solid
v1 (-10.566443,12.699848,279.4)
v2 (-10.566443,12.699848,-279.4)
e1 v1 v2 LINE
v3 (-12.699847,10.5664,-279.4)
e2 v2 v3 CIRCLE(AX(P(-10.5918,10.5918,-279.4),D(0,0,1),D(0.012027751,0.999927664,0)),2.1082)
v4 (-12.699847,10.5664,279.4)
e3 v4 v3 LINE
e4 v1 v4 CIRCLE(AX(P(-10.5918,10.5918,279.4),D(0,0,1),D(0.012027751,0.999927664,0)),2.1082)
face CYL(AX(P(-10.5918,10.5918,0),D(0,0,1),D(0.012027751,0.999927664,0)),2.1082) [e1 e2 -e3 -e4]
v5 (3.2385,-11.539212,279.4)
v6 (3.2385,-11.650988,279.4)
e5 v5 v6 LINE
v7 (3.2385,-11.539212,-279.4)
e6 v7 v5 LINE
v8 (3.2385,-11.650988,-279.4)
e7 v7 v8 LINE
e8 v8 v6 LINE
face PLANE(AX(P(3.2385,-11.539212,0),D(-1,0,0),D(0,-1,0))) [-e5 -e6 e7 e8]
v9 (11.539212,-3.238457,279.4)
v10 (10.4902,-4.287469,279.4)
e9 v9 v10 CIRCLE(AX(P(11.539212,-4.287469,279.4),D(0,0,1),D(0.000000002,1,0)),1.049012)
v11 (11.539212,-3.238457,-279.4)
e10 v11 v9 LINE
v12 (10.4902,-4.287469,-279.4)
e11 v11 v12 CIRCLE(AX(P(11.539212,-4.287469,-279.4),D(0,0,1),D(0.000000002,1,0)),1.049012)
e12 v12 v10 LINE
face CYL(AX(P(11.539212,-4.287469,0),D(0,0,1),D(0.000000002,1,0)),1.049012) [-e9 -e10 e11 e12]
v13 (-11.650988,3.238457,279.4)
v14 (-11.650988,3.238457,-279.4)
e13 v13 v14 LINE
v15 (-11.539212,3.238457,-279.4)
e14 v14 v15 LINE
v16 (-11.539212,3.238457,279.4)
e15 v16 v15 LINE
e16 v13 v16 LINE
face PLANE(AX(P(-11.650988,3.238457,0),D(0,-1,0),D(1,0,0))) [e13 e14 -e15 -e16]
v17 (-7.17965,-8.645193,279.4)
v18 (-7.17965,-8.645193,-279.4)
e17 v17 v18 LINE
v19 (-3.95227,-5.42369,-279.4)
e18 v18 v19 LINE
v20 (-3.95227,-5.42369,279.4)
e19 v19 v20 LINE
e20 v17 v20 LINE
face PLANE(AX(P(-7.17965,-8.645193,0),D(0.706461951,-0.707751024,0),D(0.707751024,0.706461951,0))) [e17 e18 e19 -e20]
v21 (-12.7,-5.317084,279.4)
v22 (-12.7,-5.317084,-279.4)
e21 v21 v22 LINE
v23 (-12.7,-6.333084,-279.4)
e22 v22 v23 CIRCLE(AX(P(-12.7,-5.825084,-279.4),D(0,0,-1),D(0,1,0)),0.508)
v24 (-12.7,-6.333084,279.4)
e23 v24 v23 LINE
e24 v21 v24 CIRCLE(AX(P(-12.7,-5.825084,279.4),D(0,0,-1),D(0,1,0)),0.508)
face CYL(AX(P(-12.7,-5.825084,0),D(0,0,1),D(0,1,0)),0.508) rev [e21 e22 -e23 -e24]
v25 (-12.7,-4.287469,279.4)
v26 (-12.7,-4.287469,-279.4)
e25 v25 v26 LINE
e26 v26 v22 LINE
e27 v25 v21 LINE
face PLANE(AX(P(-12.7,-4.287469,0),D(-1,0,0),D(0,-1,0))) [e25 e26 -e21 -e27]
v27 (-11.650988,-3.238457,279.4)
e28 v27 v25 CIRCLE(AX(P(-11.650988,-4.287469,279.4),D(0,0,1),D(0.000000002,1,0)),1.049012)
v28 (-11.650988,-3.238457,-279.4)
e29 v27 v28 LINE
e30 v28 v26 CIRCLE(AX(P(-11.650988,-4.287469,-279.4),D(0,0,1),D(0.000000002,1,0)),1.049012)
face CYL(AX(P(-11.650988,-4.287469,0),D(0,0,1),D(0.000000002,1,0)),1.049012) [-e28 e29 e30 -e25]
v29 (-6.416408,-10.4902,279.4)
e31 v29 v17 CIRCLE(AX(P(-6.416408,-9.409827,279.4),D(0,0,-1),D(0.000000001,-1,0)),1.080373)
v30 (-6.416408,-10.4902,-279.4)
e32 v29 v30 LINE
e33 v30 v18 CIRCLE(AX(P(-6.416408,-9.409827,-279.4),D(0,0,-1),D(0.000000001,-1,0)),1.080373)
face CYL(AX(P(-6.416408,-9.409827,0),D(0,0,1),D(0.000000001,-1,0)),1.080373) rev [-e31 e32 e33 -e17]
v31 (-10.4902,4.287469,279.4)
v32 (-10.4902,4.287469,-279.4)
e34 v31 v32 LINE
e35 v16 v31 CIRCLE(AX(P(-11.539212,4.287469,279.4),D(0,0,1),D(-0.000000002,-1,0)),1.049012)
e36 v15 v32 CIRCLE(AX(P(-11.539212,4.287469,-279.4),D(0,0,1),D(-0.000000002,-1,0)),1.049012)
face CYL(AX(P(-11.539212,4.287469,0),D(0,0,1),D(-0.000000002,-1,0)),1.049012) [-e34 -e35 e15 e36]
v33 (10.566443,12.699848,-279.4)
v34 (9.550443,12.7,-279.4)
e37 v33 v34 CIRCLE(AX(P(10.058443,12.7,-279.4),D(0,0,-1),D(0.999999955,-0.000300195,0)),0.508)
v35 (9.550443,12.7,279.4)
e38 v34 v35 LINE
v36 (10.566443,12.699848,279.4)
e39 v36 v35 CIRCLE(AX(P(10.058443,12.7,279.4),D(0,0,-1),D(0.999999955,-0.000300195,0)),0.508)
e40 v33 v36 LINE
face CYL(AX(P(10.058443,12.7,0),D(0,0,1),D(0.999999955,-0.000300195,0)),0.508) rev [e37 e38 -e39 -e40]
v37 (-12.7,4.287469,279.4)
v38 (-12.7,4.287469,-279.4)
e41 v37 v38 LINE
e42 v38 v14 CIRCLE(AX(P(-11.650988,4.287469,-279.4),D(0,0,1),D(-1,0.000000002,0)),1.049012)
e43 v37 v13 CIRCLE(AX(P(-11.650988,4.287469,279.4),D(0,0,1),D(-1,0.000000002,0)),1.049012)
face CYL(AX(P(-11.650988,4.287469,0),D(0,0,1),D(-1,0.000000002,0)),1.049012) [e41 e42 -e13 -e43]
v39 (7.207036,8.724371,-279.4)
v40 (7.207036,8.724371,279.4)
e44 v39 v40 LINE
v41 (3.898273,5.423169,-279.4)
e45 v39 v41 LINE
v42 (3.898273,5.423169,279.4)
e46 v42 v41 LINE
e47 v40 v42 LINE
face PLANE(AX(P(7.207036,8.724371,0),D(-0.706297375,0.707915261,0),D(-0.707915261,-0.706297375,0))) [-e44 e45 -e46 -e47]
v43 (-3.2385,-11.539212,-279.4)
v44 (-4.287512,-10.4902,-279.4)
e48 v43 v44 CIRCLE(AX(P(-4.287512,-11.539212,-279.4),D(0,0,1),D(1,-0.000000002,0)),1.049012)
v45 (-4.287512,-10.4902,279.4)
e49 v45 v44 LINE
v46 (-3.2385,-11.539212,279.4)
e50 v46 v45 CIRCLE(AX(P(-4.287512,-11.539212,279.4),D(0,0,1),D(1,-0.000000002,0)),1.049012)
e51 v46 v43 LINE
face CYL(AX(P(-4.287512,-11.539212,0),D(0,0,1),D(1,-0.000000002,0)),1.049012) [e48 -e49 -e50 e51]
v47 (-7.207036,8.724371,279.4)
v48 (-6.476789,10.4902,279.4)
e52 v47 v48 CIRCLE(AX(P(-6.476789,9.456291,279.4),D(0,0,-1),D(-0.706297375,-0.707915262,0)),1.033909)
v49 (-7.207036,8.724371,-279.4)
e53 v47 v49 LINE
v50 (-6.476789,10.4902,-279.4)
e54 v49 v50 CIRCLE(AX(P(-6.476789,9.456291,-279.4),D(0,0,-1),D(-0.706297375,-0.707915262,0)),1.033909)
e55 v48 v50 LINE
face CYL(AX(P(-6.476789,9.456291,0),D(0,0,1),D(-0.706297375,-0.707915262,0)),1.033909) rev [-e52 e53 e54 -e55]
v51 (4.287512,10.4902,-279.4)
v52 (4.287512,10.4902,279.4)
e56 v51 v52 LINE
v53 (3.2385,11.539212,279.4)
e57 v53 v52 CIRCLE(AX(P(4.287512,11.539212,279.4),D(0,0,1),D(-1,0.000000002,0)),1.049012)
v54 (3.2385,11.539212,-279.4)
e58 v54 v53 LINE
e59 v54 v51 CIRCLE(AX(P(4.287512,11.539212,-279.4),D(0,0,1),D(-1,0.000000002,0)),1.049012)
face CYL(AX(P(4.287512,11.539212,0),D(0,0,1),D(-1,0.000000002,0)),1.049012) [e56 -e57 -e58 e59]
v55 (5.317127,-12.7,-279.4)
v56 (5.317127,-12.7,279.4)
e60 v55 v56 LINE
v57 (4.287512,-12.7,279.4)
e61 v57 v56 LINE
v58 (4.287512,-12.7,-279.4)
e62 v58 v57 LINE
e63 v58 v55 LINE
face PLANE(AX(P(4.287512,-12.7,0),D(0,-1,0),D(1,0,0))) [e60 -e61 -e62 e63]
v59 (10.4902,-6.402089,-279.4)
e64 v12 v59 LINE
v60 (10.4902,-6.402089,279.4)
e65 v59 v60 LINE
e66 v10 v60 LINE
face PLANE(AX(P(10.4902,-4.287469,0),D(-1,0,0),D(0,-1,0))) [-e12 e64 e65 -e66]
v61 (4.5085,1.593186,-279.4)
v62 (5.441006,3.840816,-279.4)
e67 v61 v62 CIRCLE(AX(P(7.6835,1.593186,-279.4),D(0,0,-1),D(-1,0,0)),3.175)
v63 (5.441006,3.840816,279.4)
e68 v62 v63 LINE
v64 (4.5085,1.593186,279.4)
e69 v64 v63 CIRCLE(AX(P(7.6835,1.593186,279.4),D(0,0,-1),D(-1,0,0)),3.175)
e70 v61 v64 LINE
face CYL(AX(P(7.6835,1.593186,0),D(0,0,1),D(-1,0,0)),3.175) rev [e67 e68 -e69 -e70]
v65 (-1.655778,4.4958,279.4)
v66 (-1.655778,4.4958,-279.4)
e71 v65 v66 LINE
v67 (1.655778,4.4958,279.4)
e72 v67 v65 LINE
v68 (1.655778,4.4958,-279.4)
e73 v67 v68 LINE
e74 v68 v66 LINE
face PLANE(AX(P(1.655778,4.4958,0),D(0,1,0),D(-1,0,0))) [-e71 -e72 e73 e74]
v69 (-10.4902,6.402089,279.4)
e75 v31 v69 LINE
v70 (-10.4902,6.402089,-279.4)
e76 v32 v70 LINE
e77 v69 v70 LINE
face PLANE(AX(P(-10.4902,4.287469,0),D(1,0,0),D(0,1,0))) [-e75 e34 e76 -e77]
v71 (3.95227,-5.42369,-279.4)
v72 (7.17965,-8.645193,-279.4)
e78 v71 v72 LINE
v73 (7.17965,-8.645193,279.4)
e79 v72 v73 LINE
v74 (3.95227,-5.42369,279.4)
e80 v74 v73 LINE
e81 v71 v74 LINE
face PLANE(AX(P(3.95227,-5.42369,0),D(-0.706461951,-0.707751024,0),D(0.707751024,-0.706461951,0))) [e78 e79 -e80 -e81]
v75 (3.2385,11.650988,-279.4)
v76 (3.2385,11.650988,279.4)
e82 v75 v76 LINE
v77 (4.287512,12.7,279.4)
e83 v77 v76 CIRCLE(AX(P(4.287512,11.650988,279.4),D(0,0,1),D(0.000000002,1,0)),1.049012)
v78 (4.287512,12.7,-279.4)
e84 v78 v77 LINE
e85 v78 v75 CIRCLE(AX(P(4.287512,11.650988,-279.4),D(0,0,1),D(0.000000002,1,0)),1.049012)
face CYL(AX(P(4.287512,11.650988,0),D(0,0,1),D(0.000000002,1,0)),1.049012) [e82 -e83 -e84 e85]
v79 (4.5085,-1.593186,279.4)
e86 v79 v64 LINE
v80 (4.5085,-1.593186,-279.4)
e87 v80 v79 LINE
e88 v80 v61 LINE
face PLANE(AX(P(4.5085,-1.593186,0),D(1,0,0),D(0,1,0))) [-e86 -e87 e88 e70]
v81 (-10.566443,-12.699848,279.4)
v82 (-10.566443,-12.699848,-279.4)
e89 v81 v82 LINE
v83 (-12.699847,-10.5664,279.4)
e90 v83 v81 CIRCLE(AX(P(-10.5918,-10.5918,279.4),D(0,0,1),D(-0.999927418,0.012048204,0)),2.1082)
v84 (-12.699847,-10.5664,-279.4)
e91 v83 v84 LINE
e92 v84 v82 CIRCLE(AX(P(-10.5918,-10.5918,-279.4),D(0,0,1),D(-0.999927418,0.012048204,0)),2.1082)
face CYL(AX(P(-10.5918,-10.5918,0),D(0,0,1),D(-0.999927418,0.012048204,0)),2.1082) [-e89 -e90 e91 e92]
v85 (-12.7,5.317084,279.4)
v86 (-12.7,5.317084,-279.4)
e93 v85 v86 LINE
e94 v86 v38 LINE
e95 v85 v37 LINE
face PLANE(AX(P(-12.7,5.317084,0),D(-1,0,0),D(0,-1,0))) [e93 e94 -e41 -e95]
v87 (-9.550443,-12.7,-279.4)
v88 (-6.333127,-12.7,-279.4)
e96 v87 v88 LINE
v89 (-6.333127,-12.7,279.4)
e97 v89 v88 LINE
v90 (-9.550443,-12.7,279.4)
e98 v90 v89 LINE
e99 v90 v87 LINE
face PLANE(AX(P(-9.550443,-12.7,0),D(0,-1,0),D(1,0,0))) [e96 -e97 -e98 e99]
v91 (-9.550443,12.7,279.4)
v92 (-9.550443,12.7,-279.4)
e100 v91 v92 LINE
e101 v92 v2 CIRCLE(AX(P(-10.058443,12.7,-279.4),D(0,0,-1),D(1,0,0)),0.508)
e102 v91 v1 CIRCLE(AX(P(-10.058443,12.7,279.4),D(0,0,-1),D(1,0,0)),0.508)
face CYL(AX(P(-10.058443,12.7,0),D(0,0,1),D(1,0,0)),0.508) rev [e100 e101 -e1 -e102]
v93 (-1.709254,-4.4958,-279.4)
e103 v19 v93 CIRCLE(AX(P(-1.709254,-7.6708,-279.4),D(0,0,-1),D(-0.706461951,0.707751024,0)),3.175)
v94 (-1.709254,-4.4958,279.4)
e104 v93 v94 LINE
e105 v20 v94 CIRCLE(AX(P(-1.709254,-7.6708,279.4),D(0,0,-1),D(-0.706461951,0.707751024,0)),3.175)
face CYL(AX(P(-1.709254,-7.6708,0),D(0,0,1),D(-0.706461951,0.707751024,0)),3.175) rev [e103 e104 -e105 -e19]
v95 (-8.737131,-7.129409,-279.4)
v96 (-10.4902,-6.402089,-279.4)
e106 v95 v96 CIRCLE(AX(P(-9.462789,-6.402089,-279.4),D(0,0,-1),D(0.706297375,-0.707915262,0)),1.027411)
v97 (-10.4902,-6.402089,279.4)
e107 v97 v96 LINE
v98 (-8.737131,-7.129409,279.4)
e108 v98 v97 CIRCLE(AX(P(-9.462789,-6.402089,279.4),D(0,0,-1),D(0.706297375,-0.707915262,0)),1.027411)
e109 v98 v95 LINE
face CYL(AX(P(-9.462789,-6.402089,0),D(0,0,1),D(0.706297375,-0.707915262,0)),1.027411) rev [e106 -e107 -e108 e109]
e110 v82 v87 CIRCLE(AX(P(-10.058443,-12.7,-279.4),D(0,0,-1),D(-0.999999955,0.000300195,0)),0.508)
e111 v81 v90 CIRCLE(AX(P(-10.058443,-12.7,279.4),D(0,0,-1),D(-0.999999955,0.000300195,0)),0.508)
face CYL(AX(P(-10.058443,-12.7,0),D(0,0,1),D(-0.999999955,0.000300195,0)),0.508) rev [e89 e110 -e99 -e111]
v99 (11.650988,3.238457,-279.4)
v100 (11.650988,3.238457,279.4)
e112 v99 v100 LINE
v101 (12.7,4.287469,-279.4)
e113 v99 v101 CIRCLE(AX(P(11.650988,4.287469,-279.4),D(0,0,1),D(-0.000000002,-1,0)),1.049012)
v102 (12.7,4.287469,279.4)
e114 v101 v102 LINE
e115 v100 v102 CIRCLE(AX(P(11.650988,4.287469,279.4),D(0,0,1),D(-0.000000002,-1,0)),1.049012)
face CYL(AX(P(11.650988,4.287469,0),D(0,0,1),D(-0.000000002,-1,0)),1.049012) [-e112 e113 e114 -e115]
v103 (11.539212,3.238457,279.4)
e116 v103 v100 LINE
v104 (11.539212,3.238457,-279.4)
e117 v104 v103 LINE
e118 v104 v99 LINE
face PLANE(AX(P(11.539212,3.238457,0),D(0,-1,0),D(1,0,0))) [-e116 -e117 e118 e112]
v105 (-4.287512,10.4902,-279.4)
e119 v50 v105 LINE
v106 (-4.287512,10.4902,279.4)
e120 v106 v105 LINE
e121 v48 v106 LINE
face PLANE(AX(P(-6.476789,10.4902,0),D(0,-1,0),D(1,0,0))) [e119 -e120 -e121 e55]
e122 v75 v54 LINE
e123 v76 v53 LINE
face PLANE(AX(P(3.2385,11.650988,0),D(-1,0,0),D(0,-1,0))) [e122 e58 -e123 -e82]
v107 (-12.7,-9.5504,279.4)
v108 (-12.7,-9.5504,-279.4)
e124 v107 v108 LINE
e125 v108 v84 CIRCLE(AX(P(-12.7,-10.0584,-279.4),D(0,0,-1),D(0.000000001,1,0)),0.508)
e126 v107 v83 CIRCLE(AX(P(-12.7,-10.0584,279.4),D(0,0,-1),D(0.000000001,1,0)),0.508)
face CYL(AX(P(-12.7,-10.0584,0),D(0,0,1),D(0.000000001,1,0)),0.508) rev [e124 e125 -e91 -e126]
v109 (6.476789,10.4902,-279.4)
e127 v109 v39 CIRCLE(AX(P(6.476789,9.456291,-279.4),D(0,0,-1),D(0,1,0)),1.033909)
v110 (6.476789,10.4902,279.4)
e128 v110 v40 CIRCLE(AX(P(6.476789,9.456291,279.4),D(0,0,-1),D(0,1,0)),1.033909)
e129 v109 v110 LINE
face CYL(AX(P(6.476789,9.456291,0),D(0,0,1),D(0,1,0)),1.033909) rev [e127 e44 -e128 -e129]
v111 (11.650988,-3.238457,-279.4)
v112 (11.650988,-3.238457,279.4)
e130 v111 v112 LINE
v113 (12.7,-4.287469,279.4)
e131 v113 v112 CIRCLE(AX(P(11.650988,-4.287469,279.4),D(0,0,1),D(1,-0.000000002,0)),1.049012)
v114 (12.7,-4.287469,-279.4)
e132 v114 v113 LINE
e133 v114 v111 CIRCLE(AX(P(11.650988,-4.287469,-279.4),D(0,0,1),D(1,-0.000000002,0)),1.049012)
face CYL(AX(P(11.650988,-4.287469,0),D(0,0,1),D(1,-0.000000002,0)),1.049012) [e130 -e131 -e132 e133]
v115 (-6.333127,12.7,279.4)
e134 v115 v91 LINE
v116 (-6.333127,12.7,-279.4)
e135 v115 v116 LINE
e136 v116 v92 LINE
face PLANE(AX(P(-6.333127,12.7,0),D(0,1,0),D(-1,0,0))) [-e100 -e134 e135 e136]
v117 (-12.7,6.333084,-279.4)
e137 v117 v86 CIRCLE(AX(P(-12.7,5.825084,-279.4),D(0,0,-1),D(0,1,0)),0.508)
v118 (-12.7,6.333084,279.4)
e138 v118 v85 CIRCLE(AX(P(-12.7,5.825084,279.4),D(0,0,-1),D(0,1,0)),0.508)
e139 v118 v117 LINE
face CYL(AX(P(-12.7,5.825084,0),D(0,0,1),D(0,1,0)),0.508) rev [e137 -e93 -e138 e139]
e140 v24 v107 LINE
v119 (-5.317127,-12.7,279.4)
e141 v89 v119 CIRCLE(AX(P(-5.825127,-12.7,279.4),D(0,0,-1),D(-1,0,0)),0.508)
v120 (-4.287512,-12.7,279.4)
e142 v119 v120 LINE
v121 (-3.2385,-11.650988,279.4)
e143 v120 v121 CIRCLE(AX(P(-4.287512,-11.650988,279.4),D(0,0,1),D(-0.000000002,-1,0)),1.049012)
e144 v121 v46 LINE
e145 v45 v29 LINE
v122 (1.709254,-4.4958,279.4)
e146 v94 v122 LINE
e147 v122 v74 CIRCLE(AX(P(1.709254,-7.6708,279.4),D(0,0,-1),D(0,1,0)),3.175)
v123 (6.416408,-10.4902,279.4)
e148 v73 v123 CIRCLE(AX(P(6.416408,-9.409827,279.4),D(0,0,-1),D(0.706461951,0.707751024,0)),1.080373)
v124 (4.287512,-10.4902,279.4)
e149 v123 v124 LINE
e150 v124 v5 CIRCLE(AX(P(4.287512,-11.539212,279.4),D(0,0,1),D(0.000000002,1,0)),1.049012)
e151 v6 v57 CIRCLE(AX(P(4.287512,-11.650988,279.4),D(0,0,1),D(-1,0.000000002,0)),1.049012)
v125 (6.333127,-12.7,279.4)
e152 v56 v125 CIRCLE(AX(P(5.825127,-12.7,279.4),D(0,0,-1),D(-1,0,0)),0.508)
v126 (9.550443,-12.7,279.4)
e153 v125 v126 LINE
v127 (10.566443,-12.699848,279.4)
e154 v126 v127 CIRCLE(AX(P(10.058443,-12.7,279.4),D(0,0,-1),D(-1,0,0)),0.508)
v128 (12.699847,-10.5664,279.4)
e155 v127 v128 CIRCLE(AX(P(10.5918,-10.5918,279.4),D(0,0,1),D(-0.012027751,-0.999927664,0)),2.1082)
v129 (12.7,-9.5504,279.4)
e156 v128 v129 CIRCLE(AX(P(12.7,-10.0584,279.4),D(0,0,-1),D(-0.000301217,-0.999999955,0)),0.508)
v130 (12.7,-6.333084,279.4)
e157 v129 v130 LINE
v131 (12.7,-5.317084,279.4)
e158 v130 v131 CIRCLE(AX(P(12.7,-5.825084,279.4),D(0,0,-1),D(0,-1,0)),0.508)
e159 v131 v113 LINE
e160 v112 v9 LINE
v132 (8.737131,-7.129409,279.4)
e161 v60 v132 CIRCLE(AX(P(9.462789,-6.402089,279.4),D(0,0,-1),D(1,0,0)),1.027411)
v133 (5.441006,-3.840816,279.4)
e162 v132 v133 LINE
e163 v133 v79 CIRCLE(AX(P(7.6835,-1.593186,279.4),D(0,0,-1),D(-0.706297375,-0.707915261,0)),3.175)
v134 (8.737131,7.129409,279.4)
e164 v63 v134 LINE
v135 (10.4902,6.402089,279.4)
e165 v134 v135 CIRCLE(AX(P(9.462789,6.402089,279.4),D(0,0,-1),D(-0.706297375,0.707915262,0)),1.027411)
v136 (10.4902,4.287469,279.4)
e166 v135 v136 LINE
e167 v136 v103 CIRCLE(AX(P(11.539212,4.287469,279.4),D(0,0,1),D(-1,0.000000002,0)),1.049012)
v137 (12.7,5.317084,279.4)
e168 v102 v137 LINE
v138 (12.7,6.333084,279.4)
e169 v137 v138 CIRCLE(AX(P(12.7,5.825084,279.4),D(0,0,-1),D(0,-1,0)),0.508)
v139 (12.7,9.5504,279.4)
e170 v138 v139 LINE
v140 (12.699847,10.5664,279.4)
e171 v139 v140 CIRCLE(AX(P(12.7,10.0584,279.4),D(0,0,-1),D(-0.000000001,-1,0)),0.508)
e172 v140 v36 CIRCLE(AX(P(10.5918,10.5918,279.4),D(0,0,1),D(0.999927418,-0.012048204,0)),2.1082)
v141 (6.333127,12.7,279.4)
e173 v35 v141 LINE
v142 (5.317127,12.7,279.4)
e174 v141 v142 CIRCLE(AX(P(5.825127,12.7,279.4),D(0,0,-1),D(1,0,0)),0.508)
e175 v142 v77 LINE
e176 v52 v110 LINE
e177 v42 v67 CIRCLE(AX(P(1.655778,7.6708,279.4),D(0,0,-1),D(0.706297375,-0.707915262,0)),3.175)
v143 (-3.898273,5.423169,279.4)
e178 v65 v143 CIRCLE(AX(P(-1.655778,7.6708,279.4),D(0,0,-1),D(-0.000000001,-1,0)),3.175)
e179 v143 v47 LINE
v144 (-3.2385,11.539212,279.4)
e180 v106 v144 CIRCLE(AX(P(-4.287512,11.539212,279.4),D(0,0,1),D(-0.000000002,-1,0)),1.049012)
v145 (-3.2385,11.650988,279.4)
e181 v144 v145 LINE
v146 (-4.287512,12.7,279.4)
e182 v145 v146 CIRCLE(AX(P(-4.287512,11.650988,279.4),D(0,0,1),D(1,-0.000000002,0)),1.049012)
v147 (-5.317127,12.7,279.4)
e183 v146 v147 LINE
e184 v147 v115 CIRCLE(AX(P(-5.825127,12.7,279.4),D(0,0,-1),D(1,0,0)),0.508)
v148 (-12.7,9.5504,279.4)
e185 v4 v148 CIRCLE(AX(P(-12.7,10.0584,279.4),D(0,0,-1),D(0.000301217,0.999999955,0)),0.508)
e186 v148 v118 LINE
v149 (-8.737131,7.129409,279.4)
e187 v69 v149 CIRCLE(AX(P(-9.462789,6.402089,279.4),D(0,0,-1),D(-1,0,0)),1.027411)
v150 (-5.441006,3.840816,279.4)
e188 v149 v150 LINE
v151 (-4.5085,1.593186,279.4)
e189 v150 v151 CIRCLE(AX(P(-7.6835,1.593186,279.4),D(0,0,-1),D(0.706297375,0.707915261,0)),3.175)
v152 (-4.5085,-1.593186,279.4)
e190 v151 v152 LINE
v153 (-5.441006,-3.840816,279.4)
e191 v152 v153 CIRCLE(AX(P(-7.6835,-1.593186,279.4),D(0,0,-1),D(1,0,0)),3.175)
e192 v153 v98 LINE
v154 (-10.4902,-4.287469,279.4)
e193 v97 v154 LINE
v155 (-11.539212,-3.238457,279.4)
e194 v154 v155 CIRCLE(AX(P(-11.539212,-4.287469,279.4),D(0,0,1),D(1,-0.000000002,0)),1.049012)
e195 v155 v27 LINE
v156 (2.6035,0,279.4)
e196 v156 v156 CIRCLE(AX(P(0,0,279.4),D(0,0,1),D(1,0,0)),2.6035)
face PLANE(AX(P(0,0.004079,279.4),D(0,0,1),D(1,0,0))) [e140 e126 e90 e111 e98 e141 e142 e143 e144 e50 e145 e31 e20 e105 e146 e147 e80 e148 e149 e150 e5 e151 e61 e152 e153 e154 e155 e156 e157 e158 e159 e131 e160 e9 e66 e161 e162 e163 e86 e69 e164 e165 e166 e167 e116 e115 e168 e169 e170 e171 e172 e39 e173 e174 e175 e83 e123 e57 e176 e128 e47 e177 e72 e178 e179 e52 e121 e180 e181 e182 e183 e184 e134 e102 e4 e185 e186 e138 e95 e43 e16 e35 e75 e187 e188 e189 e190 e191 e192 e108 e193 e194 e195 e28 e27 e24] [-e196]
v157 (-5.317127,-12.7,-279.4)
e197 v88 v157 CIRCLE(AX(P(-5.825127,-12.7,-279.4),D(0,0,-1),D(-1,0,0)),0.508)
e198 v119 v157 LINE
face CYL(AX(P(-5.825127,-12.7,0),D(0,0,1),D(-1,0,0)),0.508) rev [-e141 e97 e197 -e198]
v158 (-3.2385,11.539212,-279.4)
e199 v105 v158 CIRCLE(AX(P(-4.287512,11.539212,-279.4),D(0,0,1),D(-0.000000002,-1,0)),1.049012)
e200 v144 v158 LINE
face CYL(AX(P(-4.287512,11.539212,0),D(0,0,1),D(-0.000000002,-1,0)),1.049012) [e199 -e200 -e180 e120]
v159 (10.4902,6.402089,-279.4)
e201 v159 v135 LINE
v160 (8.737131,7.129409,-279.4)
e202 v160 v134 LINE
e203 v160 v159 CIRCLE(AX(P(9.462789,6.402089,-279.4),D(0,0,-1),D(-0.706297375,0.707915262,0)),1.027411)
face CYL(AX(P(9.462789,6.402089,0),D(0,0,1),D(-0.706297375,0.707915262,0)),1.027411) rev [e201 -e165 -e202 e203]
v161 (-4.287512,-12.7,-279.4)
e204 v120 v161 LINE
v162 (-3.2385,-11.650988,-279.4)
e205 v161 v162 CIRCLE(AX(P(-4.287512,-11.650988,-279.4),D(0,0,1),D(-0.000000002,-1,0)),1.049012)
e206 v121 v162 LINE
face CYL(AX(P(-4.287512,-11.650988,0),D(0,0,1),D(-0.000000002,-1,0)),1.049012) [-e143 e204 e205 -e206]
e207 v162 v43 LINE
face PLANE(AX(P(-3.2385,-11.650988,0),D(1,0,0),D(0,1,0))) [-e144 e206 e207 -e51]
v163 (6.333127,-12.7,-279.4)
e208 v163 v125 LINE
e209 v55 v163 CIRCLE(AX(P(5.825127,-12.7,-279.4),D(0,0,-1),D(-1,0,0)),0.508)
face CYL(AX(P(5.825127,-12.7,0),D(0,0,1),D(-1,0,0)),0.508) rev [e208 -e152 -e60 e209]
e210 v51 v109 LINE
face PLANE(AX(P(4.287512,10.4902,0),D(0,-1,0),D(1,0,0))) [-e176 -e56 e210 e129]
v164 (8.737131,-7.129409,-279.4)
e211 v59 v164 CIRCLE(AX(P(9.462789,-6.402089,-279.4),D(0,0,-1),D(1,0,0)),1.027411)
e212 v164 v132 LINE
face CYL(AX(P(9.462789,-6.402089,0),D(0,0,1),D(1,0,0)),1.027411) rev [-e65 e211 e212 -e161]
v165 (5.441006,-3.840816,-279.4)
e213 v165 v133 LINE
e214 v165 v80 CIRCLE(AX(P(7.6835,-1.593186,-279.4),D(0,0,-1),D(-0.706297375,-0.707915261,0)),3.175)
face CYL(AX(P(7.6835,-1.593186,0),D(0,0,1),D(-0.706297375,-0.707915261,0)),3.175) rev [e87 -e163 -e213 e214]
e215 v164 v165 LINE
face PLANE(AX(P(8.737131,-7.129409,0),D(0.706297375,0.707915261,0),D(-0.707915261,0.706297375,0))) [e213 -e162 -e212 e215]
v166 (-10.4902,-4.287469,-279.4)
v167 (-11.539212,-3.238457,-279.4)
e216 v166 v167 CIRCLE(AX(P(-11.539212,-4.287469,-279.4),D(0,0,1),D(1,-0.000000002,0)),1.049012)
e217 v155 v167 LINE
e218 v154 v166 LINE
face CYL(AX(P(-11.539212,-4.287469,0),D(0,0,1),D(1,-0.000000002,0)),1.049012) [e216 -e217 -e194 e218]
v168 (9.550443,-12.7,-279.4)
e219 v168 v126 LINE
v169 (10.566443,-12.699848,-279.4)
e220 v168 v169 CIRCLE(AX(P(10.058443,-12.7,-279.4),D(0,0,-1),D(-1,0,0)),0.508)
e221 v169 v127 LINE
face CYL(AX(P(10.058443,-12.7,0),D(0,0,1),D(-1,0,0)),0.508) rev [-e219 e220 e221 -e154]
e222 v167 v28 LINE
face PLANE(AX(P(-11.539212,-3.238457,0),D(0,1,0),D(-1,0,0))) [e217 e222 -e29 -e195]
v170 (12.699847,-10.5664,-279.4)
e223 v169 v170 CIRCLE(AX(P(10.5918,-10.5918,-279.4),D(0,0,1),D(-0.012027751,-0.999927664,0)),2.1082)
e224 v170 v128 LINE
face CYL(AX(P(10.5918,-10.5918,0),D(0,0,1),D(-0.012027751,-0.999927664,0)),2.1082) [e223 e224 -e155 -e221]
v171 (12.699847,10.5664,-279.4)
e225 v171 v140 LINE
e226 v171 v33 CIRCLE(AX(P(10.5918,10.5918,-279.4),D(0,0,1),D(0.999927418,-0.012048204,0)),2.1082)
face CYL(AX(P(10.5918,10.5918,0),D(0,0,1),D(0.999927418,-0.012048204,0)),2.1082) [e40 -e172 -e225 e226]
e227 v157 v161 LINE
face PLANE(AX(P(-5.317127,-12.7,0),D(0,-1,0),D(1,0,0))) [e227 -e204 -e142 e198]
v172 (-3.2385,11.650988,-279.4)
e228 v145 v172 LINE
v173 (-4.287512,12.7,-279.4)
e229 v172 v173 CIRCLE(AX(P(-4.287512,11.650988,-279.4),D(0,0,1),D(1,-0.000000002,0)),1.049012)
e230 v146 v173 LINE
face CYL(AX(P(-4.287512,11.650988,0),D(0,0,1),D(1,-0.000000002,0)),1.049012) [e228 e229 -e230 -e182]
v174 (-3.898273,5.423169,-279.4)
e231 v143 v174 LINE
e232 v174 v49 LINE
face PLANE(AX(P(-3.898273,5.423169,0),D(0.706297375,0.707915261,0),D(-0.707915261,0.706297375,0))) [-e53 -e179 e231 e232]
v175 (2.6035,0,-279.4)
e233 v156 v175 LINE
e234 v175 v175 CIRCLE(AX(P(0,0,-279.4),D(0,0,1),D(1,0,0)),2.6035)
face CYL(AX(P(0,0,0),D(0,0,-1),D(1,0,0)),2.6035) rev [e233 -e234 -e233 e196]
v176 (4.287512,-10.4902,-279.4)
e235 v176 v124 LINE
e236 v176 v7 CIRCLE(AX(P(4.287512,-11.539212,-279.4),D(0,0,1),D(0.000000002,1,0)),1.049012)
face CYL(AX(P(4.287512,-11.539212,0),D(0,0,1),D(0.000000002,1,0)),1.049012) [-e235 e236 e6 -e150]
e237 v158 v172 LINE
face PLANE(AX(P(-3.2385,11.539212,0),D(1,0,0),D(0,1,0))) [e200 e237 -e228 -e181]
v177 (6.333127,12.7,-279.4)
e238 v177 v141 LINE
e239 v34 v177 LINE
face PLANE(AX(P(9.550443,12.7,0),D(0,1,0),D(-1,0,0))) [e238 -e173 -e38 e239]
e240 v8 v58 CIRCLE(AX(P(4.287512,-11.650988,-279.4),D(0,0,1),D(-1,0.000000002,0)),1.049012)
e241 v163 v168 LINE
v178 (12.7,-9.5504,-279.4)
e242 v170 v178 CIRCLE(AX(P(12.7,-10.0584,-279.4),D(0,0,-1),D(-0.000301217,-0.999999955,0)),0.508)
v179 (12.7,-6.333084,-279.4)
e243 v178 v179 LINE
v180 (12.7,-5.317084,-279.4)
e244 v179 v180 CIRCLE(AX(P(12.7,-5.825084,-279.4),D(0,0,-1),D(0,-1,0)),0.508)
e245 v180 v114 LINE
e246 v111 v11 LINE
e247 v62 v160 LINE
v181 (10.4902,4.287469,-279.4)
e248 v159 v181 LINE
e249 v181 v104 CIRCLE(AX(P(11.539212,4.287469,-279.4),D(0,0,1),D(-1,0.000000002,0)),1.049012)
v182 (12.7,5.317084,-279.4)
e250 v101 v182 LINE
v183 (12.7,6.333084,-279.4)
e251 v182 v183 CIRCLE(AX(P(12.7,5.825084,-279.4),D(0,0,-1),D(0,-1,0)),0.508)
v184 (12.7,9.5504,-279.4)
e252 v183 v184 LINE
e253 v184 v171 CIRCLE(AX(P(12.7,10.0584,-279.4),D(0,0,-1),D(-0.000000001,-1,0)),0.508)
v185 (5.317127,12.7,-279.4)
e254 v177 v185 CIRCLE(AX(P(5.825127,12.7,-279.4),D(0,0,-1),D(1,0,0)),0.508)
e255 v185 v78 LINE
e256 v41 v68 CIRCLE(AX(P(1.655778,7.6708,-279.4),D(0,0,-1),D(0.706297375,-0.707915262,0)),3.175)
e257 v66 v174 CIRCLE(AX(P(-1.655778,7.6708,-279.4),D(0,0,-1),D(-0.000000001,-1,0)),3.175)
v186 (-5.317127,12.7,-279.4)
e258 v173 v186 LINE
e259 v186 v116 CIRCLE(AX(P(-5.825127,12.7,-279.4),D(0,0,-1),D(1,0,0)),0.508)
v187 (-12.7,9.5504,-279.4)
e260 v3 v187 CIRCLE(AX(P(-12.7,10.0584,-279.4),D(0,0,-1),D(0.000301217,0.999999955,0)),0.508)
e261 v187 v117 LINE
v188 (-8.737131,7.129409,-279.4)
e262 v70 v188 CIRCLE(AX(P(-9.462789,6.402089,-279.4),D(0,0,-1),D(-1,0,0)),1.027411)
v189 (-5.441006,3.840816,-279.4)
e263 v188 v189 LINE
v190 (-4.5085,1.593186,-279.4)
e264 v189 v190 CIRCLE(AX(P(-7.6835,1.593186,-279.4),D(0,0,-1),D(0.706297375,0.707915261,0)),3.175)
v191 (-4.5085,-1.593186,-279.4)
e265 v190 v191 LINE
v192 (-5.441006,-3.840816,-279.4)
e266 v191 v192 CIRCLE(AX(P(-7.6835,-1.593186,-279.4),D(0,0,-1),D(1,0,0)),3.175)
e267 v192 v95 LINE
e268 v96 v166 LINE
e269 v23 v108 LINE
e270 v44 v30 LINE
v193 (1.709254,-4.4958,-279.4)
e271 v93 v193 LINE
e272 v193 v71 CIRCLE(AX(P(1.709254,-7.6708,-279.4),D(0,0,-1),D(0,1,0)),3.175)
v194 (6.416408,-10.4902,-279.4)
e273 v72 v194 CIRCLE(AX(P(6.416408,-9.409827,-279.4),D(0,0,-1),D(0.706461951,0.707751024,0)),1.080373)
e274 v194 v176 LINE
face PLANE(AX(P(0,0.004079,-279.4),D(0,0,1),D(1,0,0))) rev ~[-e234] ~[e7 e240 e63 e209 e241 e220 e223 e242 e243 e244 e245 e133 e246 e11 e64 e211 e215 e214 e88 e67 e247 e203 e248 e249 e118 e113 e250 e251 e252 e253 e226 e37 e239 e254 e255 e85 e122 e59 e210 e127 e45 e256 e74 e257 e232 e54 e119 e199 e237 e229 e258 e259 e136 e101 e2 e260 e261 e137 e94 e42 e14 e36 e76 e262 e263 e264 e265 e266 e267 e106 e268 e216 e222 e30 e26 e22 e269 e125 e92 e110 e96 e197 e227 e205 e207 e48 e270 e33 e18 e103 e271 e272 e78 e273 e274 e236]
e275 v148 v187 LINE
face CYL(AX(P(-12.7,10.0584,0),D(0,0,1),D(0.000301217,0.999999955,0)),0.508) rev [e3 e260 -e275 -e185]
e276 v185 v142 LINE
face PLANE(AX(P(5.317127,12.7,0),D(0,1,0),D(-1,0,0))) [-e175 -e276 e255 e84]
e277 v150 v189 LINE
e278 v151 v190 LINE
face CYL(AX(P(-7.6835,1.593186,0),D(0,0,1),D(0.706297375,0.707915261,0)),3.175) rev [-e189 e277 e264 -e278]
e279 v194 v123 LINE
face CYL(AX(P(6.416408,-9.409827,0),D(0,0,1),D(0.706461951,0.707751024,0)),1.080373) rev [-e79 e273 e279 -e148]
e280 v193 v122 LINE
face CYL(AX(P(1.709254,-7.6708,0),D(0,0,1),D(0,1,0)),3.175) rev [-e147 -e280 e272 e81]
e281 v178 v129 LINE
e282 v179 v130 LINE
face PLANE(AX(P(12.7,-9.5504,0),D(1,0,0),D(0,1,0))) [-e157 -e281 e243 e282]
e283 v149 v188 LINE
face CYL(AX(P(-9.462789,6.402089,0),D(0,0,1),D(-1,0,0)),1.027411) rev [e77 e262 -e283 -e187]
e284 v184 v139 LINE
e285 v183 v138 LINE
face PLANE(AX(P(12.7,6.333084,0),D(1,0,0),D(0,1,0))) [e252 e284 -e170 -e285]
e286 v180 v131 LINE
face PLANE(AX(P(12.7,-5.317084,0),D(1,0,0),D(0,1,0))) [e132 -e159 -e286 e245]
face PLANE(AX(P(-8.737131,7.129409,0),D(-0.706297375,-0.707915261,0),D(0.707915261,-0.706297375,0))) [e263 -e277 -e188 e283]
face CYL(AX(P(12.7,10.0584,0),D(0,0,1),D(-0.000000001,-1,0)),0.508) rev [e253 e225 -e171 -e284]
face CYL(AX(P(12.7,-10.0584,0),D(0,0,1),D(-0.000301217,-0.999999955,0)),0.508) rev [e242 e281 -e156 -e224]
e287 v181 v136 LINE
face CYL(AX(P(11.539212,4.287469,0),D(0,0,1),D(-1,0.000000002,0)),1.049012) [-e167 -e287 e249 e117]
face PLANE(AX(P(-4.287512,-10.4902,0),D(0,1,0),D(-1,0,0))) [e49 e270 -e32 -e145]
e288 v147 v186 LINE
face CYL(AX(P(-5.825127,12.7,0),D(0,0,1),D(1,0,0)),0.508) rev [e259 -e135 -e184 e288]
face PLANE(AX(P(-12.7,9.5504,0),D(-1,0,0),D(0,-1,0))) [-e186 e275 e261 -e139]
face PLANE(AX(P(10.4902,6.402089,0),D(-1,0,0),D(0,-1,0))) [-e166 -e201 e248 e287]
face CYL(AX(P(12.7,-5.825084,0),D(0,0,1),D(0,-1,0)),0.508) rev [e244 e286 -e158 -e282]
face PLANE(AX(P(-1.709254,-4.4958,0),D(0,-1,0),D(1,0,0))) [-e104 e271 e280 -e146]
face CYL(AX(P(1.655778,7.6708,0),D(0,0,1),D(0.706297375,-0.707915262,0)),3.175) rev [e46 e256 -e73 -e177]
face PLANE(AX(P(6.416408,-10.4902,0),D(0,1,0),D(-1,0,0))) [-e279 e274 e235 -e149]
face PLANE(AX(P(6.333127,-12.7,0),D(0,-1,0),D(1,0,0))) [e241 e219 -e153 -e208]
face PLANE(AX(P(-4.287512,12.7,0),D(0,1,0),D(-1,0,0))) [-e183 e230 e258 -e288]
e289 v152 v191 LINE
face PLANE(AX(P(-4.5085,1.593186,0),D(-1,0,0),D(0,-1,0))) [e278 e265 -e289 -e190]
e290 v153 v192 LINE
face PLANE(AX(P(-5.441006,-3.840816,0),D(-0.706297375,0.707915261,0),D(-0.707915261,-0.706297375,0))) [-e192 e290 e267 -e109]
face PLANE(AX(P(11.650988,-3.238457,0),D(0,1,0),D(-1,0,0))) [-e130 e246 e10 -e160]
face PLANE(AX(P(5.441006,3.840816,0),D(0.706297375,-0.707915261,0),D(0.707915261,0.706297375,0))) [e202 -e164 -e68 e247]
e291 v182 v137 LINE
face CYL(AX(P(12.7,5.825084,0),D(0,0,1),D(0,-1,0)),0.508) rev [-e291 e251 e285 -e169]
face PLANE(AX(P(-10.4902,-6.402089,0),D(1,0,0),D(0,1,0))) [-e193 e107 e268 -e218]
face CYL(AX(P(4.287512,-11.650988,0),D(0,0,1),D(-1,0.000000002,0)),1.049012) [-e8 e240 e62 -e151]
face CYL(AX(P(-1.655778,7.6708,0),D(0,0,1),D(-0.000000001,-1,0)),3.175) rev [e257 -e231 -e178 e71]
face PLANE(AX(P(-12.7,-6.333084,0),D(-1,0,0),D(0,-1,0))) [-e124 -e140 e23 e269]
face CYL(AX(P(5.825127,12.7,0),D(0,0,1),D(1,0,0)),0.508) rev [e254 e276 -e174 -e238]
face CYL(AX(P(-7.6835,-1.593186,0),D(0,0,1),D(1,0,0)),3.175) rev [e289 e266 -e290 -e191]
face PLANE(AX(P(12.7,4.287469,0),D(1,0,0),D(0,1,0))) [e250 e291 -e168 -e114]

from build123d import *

# Parameters (mm, degrees)
SKETCH1_R           = 2.6035
BOSS_EXTRUDE1_DEPTH = 279.4


with BuildPart() as part:
    # Sketch1 → Boss-Extrude1 (new body, symmetric)
    with BuildSketch(Plane.XY):
        with BuildLine():
            Line((-7.179650497, -8.645192506), (-3.952270251, -5.423690499))
            ThreePointArc((-3.952270251, -5.423690499), (-2.922936451, -4.736929036), (-1.709253557, -4.4958))
            Line((-1.709253557, -4.4958), (1.709253557, -4.4958))
            ThreePointArc((1.709253557, -4.4958), (2.922936451, -4.736929036), (3.952270251, -5.423690499))
            Line((3.952270251, -5.423690499), (7.179650497, -8.645192506))
            ThreePointArc((7.179650497, -8.645192506), (7.41473083, -9.822813117), (6.416408329, -10.4902))
            Line((6.416408329, -10.4902), (4.287512407, -10.4902))
            ThreePointArc((4.287512407, -10.4902), (3.54574862, -10.79744862), (3.2385, -11.539212407))
            Line((3.2385, -11.539212407), (3.2385, -11.650987593))
            ThreePointArc((3.2385, -11.650987593), (3.54574862, -12.39275138), (4.287512407, -12.7))
            Line((4.287512407, -12.7), (5.317126718, -12.7))
            ThreePointArc((5.317126718, -12.7), (5.825126718, -12.192), (6.333126718, -12.7))
            Line((6.333126718, -12.7), (9.550443118, -12.7))
            ThreePointArc((9.550443118, -12.7), (10.058366869, -12.192000006), (10.566443095, -12.699847501))
            ThreePointArc((10.566443095, -12.699847501), (12.082537762, -12.08250727), (12.699846982, -10.566399977))
            ThreePointArc((12.699846982, -10.566399977), (12.192000006, -10.058323491), (12.7, -9.5504))
            Line((12.7, -9.5504), (12.7, -6.3330836))
            ThreePointArc((12.7, -6.3330836), (12.192, -5.8250836), (12.7, -5.3170836))
            Line((12.7, -5.3170836), (12.7, -4.287469289))
            ThreePointArc((12.7, -4.287469289), (12.39275138, -3.545705502), (11.650987593, -3.238456882))
            Line((11.650987593, -3.238456882), (11.539212407, -3.238456882))
            ThreePointArc((11.539212407, -3.238456882), (10.79744862, -3.545705502), (10.4902, -4.287469289))
            Line((10.4902, -4.287469289), (10.4902, -6.402089023))
            ThreePointArc((10.4902, -6.402089023), (9.856505071, -7.351067942), (8.737131347, -7.129408934))
            Line((8.737131347, -7.129408934), (5.441005833, -3.840816462))
            ThreePointArc((5.441005833, -3.840816462), (4.750877967, -2.809883091), (4.5085, -1.593185507))
            Line((4.5085, -1.593185507), (4.5085, 1.593185507))
            ThreePointArc((4.5085, 1.593185507), (4.750877967, 2.809883091), (5.441005833, 3.840816462))
            Line((5.441005833, 3.840816462), (8.737131347, 7.129408934))
            ThreePointArc((8.737131347, 7.129408934), (9.856505071, 7.351067942), (10.4902, 6.402089023))
            Line((10.4902, 6.402089023), (10.4902, 4.287469289))
            ThreePointArc((10.4902, 4.287469289), (10.79744862, 3.545705502), (11.539212407, 3.238456882))
            Line((11.539212407, 3.238456882), (11.650987593, 3.238456882))
            ThreePointArc((11.650987593, 3.238456882), (12.39275138, 3.545705502), (12.7, 4.287469289))
            Line((12.7, 4.287469289), (12.7, 5.3170836))
            ThreePointArc((12.7, 5.3170836), (12.192, 5.8250836), (12.7, 6.3330836))
            Line((12.7, 6.3330836), (12.7, 9.5504))
            ThreePointArc((12.7, 9.5504), (12.192000006, 10.058323491), (12.699846982, 10.566399977))
            ThreePointArc((12.699846982, 10.566399977), (12.082537762, 12.08250727), (10.566443095, 12.699847501))
            ThreePointArc((10.566443095, 12.699847501), (10.058366869, 12.192000006), (9.550443118, 12.7))
            Line((9.550443118, 12.7), (6.333126718, 12.7))
            ThreePointArc((6.333126718, 12.7), (5.825126718, 12.192), (5.317126718, 12.7))
            Line((5.317126718, 12.7), (4.287512407, 12.7))
            ThreePointArc((4.287512407, 12.7), (3.54574862, 12.39275138), (3.2385, 11.650987593))
            Line((3.2385, 11.650987593), (3.2385, 11.539212407))
            ThreePointArc((3.2385, 11.539212407), (3.54574862, 10.79744862), (4.287512407, 10.4902))
            Line((4.287512407, 10.4902), (6.476788598, 10.4902))
            ThreePointArc((6.476788598, 10.4902), (7.432222385, 9.85140422), (7.207036008, 8.724370562))
            Line((7.207036008, 8.724370562), (3.898272566, 5.423169045))
            ThreePointArc((3.898272566, 5.423169045), (2.869120213, 4.736787962), (1.655778399, 4.4958))
            Line((1.655778399, 4.4958), (-1.655778399, 4.4958))
            ThreePointArc((-1.655778399, 4.4958), (-2.869120213, 4.736787962), (-3.898272566, 5.423169045))
            Line((-3.898272566, 5.423169045), (-7.207036008, 8.724370562))
            ThreePointArc((-7.207036008, 8.724370562), (-7.432222385, 9.85140422), (-6.476788598, 10.4902))
            Line((-6.476788598, 10.4902), (-4.287512407, 10.4902))
            ThreePointArc((-4.287512407, 10.4902), (-3.54574862, 10.79744862), (-3.2385, 11.539212407))
            Line((-3.2385, 11.539212407), (-3.2385, 11.650987593))
            ThreePointArc((-3.2385, 11.650987593), (-3.54574862, 12.39275138), (-4.287512407, 12.7))
            Line((-4.287512407, 12.7), (-5.317126718, 12.7))
            ThreePointArc((-5.317126718, 12.7), (-5.825126718, 12.192), (-6.333126718, 12.7))
            Line((-6.333126718, 12.7), (-9.550443118, 12.7))
            ThreePointArc((-9.550443118, 12.7), (-10.058366869, 12.192000006), (-10.566443095, 12.699847501))
            ThreePointArc((-10.566443095, 12.699847501), (-12.082537762, 12.08250727), (-12.699846982, 10.566399977))
            ThreePointArc((-12.699846982, 10.566399977), (-12.192000006, 10.058323491), (-12.7, 9.5504))
            Line((-12.7, 9.5504), (-12.7, 6.3330836))
            ThreePointArc((-12.7, 6.3330836), (-12.192, 5.8250836), (-12.7, 5.3170836))
            Line((-12.7, 5.3170836), (-12.7, 4.287469289))
            ThreePointArc((-12.7, 4.287469289), (-12.39275138, 3.545705502), (-11.650987593, 3.238456882))
            Line((-11.650987593, 3.238456882), (-11.539212407, 3.238456882))
            ThreePointArc((-11.539212407, 3.238456882), (-10.79744862, 3.545705502), (-10.4902, 4.287469289))
            Line((-10.4902, 4.287469289), (-10.4902, 6.402089023))
            ThreePointArc((-10.4902, 6.402089023), (-9.856505071, 7.351067942), (-8.737131347, 7.129408934))
            Line((-8.737131347, 7.129408934), (-5.441005833, 3.840816462))
            ThreePointArc((-5.441005833, 3.840816462), (-4.750877967, 2.809883091), (-4.5085, 1.593185507))
            Line((-4.5085, 1.593185507), (-4.5085, -1.593185507))
            ThreePointArc((-4.5085, -1.593185507), (-4.750877967, -2.809883091), (-5.441005833, -3.840816462))
            Line((-5.441005833, -3.840816462), (-8.737131347, -7.129408934))
            ThreePointArc((-8.737131347, -7.129408934), (-9.856505071, -7.351067942), (-10.4902, -6.402089023))
            Line((-10.4902, -6.402089023), (-10.4902, -4.287469289))
            ThreePointArc((-10.4902, -4.287469289), (-10.79744862, -3.545705502), (-11.539212407, -3.238456882))
            Line((-11.539212407, -3.238456882), (-11.650987593, -3.238456882))
            ThreePointArc((-11.650987593, -3.238456882), (-12.39275138, -3.545705502), (-12.7, -4.287469289))
            Line((-12.7, -4.287469289), (-12.7, -5.3170836))
            ThreePointArc((-12.7, -5.3170836), (-12.192, -5.8250836), (-12.7, -6.3330836))
            Line((-12.7, -6.3330836), (-12.7, -9.5504))
            ThreePointArc((-12.7, -9.5504), (-12.192000006, -10.058323491), (-12.699846982, -10.566399977))
            ThreePointArc((-12.699846982, -10.566399977), (-12.082537762, -12.08250727), (-10.566443095, -12.699847501))
            ThreePointArc((-10.566443095, -12.699847501), (-10.058366869, -12.192000006), (-9.550443118, -12.7))
            Line((-9.550443118, -12.7), (-6.333126718, -12.7))
            ThreePointArc((-6.333126718, -12.7), (-5.825126718, -12.192), (-5.317126718, -12.7))
            Line((-5.317126718, -12.7), (-4.287512407, -12.7))
            ThreePointArc((-4.287512407, -12.7), (-3.54574862, -12.39275138), (-3.2385, -11.650987593))
            Line((-3.2385, -11.650987593), (-3.2385, -11.539212407))
            ThreePointArc((-3.2385, -11.539212407), (-3.54574862, -10.79744862), (-4.287512407, -10.4902))
            Line((-4.287512407, -10.4902), (-6.416408329, -10.4902))
            ThreePointArc((-6.416408329, -10.4902), (-7.41473083, -9.822813117), (-7.179650497, -8.645192506))
        make_face()
        Circle(SKETCH1_R, mode=Mode.SUBTRACT)
    extrude(amount=BOSS_EXTRUDE1_DEPTH, both=True)


solid = part.part
